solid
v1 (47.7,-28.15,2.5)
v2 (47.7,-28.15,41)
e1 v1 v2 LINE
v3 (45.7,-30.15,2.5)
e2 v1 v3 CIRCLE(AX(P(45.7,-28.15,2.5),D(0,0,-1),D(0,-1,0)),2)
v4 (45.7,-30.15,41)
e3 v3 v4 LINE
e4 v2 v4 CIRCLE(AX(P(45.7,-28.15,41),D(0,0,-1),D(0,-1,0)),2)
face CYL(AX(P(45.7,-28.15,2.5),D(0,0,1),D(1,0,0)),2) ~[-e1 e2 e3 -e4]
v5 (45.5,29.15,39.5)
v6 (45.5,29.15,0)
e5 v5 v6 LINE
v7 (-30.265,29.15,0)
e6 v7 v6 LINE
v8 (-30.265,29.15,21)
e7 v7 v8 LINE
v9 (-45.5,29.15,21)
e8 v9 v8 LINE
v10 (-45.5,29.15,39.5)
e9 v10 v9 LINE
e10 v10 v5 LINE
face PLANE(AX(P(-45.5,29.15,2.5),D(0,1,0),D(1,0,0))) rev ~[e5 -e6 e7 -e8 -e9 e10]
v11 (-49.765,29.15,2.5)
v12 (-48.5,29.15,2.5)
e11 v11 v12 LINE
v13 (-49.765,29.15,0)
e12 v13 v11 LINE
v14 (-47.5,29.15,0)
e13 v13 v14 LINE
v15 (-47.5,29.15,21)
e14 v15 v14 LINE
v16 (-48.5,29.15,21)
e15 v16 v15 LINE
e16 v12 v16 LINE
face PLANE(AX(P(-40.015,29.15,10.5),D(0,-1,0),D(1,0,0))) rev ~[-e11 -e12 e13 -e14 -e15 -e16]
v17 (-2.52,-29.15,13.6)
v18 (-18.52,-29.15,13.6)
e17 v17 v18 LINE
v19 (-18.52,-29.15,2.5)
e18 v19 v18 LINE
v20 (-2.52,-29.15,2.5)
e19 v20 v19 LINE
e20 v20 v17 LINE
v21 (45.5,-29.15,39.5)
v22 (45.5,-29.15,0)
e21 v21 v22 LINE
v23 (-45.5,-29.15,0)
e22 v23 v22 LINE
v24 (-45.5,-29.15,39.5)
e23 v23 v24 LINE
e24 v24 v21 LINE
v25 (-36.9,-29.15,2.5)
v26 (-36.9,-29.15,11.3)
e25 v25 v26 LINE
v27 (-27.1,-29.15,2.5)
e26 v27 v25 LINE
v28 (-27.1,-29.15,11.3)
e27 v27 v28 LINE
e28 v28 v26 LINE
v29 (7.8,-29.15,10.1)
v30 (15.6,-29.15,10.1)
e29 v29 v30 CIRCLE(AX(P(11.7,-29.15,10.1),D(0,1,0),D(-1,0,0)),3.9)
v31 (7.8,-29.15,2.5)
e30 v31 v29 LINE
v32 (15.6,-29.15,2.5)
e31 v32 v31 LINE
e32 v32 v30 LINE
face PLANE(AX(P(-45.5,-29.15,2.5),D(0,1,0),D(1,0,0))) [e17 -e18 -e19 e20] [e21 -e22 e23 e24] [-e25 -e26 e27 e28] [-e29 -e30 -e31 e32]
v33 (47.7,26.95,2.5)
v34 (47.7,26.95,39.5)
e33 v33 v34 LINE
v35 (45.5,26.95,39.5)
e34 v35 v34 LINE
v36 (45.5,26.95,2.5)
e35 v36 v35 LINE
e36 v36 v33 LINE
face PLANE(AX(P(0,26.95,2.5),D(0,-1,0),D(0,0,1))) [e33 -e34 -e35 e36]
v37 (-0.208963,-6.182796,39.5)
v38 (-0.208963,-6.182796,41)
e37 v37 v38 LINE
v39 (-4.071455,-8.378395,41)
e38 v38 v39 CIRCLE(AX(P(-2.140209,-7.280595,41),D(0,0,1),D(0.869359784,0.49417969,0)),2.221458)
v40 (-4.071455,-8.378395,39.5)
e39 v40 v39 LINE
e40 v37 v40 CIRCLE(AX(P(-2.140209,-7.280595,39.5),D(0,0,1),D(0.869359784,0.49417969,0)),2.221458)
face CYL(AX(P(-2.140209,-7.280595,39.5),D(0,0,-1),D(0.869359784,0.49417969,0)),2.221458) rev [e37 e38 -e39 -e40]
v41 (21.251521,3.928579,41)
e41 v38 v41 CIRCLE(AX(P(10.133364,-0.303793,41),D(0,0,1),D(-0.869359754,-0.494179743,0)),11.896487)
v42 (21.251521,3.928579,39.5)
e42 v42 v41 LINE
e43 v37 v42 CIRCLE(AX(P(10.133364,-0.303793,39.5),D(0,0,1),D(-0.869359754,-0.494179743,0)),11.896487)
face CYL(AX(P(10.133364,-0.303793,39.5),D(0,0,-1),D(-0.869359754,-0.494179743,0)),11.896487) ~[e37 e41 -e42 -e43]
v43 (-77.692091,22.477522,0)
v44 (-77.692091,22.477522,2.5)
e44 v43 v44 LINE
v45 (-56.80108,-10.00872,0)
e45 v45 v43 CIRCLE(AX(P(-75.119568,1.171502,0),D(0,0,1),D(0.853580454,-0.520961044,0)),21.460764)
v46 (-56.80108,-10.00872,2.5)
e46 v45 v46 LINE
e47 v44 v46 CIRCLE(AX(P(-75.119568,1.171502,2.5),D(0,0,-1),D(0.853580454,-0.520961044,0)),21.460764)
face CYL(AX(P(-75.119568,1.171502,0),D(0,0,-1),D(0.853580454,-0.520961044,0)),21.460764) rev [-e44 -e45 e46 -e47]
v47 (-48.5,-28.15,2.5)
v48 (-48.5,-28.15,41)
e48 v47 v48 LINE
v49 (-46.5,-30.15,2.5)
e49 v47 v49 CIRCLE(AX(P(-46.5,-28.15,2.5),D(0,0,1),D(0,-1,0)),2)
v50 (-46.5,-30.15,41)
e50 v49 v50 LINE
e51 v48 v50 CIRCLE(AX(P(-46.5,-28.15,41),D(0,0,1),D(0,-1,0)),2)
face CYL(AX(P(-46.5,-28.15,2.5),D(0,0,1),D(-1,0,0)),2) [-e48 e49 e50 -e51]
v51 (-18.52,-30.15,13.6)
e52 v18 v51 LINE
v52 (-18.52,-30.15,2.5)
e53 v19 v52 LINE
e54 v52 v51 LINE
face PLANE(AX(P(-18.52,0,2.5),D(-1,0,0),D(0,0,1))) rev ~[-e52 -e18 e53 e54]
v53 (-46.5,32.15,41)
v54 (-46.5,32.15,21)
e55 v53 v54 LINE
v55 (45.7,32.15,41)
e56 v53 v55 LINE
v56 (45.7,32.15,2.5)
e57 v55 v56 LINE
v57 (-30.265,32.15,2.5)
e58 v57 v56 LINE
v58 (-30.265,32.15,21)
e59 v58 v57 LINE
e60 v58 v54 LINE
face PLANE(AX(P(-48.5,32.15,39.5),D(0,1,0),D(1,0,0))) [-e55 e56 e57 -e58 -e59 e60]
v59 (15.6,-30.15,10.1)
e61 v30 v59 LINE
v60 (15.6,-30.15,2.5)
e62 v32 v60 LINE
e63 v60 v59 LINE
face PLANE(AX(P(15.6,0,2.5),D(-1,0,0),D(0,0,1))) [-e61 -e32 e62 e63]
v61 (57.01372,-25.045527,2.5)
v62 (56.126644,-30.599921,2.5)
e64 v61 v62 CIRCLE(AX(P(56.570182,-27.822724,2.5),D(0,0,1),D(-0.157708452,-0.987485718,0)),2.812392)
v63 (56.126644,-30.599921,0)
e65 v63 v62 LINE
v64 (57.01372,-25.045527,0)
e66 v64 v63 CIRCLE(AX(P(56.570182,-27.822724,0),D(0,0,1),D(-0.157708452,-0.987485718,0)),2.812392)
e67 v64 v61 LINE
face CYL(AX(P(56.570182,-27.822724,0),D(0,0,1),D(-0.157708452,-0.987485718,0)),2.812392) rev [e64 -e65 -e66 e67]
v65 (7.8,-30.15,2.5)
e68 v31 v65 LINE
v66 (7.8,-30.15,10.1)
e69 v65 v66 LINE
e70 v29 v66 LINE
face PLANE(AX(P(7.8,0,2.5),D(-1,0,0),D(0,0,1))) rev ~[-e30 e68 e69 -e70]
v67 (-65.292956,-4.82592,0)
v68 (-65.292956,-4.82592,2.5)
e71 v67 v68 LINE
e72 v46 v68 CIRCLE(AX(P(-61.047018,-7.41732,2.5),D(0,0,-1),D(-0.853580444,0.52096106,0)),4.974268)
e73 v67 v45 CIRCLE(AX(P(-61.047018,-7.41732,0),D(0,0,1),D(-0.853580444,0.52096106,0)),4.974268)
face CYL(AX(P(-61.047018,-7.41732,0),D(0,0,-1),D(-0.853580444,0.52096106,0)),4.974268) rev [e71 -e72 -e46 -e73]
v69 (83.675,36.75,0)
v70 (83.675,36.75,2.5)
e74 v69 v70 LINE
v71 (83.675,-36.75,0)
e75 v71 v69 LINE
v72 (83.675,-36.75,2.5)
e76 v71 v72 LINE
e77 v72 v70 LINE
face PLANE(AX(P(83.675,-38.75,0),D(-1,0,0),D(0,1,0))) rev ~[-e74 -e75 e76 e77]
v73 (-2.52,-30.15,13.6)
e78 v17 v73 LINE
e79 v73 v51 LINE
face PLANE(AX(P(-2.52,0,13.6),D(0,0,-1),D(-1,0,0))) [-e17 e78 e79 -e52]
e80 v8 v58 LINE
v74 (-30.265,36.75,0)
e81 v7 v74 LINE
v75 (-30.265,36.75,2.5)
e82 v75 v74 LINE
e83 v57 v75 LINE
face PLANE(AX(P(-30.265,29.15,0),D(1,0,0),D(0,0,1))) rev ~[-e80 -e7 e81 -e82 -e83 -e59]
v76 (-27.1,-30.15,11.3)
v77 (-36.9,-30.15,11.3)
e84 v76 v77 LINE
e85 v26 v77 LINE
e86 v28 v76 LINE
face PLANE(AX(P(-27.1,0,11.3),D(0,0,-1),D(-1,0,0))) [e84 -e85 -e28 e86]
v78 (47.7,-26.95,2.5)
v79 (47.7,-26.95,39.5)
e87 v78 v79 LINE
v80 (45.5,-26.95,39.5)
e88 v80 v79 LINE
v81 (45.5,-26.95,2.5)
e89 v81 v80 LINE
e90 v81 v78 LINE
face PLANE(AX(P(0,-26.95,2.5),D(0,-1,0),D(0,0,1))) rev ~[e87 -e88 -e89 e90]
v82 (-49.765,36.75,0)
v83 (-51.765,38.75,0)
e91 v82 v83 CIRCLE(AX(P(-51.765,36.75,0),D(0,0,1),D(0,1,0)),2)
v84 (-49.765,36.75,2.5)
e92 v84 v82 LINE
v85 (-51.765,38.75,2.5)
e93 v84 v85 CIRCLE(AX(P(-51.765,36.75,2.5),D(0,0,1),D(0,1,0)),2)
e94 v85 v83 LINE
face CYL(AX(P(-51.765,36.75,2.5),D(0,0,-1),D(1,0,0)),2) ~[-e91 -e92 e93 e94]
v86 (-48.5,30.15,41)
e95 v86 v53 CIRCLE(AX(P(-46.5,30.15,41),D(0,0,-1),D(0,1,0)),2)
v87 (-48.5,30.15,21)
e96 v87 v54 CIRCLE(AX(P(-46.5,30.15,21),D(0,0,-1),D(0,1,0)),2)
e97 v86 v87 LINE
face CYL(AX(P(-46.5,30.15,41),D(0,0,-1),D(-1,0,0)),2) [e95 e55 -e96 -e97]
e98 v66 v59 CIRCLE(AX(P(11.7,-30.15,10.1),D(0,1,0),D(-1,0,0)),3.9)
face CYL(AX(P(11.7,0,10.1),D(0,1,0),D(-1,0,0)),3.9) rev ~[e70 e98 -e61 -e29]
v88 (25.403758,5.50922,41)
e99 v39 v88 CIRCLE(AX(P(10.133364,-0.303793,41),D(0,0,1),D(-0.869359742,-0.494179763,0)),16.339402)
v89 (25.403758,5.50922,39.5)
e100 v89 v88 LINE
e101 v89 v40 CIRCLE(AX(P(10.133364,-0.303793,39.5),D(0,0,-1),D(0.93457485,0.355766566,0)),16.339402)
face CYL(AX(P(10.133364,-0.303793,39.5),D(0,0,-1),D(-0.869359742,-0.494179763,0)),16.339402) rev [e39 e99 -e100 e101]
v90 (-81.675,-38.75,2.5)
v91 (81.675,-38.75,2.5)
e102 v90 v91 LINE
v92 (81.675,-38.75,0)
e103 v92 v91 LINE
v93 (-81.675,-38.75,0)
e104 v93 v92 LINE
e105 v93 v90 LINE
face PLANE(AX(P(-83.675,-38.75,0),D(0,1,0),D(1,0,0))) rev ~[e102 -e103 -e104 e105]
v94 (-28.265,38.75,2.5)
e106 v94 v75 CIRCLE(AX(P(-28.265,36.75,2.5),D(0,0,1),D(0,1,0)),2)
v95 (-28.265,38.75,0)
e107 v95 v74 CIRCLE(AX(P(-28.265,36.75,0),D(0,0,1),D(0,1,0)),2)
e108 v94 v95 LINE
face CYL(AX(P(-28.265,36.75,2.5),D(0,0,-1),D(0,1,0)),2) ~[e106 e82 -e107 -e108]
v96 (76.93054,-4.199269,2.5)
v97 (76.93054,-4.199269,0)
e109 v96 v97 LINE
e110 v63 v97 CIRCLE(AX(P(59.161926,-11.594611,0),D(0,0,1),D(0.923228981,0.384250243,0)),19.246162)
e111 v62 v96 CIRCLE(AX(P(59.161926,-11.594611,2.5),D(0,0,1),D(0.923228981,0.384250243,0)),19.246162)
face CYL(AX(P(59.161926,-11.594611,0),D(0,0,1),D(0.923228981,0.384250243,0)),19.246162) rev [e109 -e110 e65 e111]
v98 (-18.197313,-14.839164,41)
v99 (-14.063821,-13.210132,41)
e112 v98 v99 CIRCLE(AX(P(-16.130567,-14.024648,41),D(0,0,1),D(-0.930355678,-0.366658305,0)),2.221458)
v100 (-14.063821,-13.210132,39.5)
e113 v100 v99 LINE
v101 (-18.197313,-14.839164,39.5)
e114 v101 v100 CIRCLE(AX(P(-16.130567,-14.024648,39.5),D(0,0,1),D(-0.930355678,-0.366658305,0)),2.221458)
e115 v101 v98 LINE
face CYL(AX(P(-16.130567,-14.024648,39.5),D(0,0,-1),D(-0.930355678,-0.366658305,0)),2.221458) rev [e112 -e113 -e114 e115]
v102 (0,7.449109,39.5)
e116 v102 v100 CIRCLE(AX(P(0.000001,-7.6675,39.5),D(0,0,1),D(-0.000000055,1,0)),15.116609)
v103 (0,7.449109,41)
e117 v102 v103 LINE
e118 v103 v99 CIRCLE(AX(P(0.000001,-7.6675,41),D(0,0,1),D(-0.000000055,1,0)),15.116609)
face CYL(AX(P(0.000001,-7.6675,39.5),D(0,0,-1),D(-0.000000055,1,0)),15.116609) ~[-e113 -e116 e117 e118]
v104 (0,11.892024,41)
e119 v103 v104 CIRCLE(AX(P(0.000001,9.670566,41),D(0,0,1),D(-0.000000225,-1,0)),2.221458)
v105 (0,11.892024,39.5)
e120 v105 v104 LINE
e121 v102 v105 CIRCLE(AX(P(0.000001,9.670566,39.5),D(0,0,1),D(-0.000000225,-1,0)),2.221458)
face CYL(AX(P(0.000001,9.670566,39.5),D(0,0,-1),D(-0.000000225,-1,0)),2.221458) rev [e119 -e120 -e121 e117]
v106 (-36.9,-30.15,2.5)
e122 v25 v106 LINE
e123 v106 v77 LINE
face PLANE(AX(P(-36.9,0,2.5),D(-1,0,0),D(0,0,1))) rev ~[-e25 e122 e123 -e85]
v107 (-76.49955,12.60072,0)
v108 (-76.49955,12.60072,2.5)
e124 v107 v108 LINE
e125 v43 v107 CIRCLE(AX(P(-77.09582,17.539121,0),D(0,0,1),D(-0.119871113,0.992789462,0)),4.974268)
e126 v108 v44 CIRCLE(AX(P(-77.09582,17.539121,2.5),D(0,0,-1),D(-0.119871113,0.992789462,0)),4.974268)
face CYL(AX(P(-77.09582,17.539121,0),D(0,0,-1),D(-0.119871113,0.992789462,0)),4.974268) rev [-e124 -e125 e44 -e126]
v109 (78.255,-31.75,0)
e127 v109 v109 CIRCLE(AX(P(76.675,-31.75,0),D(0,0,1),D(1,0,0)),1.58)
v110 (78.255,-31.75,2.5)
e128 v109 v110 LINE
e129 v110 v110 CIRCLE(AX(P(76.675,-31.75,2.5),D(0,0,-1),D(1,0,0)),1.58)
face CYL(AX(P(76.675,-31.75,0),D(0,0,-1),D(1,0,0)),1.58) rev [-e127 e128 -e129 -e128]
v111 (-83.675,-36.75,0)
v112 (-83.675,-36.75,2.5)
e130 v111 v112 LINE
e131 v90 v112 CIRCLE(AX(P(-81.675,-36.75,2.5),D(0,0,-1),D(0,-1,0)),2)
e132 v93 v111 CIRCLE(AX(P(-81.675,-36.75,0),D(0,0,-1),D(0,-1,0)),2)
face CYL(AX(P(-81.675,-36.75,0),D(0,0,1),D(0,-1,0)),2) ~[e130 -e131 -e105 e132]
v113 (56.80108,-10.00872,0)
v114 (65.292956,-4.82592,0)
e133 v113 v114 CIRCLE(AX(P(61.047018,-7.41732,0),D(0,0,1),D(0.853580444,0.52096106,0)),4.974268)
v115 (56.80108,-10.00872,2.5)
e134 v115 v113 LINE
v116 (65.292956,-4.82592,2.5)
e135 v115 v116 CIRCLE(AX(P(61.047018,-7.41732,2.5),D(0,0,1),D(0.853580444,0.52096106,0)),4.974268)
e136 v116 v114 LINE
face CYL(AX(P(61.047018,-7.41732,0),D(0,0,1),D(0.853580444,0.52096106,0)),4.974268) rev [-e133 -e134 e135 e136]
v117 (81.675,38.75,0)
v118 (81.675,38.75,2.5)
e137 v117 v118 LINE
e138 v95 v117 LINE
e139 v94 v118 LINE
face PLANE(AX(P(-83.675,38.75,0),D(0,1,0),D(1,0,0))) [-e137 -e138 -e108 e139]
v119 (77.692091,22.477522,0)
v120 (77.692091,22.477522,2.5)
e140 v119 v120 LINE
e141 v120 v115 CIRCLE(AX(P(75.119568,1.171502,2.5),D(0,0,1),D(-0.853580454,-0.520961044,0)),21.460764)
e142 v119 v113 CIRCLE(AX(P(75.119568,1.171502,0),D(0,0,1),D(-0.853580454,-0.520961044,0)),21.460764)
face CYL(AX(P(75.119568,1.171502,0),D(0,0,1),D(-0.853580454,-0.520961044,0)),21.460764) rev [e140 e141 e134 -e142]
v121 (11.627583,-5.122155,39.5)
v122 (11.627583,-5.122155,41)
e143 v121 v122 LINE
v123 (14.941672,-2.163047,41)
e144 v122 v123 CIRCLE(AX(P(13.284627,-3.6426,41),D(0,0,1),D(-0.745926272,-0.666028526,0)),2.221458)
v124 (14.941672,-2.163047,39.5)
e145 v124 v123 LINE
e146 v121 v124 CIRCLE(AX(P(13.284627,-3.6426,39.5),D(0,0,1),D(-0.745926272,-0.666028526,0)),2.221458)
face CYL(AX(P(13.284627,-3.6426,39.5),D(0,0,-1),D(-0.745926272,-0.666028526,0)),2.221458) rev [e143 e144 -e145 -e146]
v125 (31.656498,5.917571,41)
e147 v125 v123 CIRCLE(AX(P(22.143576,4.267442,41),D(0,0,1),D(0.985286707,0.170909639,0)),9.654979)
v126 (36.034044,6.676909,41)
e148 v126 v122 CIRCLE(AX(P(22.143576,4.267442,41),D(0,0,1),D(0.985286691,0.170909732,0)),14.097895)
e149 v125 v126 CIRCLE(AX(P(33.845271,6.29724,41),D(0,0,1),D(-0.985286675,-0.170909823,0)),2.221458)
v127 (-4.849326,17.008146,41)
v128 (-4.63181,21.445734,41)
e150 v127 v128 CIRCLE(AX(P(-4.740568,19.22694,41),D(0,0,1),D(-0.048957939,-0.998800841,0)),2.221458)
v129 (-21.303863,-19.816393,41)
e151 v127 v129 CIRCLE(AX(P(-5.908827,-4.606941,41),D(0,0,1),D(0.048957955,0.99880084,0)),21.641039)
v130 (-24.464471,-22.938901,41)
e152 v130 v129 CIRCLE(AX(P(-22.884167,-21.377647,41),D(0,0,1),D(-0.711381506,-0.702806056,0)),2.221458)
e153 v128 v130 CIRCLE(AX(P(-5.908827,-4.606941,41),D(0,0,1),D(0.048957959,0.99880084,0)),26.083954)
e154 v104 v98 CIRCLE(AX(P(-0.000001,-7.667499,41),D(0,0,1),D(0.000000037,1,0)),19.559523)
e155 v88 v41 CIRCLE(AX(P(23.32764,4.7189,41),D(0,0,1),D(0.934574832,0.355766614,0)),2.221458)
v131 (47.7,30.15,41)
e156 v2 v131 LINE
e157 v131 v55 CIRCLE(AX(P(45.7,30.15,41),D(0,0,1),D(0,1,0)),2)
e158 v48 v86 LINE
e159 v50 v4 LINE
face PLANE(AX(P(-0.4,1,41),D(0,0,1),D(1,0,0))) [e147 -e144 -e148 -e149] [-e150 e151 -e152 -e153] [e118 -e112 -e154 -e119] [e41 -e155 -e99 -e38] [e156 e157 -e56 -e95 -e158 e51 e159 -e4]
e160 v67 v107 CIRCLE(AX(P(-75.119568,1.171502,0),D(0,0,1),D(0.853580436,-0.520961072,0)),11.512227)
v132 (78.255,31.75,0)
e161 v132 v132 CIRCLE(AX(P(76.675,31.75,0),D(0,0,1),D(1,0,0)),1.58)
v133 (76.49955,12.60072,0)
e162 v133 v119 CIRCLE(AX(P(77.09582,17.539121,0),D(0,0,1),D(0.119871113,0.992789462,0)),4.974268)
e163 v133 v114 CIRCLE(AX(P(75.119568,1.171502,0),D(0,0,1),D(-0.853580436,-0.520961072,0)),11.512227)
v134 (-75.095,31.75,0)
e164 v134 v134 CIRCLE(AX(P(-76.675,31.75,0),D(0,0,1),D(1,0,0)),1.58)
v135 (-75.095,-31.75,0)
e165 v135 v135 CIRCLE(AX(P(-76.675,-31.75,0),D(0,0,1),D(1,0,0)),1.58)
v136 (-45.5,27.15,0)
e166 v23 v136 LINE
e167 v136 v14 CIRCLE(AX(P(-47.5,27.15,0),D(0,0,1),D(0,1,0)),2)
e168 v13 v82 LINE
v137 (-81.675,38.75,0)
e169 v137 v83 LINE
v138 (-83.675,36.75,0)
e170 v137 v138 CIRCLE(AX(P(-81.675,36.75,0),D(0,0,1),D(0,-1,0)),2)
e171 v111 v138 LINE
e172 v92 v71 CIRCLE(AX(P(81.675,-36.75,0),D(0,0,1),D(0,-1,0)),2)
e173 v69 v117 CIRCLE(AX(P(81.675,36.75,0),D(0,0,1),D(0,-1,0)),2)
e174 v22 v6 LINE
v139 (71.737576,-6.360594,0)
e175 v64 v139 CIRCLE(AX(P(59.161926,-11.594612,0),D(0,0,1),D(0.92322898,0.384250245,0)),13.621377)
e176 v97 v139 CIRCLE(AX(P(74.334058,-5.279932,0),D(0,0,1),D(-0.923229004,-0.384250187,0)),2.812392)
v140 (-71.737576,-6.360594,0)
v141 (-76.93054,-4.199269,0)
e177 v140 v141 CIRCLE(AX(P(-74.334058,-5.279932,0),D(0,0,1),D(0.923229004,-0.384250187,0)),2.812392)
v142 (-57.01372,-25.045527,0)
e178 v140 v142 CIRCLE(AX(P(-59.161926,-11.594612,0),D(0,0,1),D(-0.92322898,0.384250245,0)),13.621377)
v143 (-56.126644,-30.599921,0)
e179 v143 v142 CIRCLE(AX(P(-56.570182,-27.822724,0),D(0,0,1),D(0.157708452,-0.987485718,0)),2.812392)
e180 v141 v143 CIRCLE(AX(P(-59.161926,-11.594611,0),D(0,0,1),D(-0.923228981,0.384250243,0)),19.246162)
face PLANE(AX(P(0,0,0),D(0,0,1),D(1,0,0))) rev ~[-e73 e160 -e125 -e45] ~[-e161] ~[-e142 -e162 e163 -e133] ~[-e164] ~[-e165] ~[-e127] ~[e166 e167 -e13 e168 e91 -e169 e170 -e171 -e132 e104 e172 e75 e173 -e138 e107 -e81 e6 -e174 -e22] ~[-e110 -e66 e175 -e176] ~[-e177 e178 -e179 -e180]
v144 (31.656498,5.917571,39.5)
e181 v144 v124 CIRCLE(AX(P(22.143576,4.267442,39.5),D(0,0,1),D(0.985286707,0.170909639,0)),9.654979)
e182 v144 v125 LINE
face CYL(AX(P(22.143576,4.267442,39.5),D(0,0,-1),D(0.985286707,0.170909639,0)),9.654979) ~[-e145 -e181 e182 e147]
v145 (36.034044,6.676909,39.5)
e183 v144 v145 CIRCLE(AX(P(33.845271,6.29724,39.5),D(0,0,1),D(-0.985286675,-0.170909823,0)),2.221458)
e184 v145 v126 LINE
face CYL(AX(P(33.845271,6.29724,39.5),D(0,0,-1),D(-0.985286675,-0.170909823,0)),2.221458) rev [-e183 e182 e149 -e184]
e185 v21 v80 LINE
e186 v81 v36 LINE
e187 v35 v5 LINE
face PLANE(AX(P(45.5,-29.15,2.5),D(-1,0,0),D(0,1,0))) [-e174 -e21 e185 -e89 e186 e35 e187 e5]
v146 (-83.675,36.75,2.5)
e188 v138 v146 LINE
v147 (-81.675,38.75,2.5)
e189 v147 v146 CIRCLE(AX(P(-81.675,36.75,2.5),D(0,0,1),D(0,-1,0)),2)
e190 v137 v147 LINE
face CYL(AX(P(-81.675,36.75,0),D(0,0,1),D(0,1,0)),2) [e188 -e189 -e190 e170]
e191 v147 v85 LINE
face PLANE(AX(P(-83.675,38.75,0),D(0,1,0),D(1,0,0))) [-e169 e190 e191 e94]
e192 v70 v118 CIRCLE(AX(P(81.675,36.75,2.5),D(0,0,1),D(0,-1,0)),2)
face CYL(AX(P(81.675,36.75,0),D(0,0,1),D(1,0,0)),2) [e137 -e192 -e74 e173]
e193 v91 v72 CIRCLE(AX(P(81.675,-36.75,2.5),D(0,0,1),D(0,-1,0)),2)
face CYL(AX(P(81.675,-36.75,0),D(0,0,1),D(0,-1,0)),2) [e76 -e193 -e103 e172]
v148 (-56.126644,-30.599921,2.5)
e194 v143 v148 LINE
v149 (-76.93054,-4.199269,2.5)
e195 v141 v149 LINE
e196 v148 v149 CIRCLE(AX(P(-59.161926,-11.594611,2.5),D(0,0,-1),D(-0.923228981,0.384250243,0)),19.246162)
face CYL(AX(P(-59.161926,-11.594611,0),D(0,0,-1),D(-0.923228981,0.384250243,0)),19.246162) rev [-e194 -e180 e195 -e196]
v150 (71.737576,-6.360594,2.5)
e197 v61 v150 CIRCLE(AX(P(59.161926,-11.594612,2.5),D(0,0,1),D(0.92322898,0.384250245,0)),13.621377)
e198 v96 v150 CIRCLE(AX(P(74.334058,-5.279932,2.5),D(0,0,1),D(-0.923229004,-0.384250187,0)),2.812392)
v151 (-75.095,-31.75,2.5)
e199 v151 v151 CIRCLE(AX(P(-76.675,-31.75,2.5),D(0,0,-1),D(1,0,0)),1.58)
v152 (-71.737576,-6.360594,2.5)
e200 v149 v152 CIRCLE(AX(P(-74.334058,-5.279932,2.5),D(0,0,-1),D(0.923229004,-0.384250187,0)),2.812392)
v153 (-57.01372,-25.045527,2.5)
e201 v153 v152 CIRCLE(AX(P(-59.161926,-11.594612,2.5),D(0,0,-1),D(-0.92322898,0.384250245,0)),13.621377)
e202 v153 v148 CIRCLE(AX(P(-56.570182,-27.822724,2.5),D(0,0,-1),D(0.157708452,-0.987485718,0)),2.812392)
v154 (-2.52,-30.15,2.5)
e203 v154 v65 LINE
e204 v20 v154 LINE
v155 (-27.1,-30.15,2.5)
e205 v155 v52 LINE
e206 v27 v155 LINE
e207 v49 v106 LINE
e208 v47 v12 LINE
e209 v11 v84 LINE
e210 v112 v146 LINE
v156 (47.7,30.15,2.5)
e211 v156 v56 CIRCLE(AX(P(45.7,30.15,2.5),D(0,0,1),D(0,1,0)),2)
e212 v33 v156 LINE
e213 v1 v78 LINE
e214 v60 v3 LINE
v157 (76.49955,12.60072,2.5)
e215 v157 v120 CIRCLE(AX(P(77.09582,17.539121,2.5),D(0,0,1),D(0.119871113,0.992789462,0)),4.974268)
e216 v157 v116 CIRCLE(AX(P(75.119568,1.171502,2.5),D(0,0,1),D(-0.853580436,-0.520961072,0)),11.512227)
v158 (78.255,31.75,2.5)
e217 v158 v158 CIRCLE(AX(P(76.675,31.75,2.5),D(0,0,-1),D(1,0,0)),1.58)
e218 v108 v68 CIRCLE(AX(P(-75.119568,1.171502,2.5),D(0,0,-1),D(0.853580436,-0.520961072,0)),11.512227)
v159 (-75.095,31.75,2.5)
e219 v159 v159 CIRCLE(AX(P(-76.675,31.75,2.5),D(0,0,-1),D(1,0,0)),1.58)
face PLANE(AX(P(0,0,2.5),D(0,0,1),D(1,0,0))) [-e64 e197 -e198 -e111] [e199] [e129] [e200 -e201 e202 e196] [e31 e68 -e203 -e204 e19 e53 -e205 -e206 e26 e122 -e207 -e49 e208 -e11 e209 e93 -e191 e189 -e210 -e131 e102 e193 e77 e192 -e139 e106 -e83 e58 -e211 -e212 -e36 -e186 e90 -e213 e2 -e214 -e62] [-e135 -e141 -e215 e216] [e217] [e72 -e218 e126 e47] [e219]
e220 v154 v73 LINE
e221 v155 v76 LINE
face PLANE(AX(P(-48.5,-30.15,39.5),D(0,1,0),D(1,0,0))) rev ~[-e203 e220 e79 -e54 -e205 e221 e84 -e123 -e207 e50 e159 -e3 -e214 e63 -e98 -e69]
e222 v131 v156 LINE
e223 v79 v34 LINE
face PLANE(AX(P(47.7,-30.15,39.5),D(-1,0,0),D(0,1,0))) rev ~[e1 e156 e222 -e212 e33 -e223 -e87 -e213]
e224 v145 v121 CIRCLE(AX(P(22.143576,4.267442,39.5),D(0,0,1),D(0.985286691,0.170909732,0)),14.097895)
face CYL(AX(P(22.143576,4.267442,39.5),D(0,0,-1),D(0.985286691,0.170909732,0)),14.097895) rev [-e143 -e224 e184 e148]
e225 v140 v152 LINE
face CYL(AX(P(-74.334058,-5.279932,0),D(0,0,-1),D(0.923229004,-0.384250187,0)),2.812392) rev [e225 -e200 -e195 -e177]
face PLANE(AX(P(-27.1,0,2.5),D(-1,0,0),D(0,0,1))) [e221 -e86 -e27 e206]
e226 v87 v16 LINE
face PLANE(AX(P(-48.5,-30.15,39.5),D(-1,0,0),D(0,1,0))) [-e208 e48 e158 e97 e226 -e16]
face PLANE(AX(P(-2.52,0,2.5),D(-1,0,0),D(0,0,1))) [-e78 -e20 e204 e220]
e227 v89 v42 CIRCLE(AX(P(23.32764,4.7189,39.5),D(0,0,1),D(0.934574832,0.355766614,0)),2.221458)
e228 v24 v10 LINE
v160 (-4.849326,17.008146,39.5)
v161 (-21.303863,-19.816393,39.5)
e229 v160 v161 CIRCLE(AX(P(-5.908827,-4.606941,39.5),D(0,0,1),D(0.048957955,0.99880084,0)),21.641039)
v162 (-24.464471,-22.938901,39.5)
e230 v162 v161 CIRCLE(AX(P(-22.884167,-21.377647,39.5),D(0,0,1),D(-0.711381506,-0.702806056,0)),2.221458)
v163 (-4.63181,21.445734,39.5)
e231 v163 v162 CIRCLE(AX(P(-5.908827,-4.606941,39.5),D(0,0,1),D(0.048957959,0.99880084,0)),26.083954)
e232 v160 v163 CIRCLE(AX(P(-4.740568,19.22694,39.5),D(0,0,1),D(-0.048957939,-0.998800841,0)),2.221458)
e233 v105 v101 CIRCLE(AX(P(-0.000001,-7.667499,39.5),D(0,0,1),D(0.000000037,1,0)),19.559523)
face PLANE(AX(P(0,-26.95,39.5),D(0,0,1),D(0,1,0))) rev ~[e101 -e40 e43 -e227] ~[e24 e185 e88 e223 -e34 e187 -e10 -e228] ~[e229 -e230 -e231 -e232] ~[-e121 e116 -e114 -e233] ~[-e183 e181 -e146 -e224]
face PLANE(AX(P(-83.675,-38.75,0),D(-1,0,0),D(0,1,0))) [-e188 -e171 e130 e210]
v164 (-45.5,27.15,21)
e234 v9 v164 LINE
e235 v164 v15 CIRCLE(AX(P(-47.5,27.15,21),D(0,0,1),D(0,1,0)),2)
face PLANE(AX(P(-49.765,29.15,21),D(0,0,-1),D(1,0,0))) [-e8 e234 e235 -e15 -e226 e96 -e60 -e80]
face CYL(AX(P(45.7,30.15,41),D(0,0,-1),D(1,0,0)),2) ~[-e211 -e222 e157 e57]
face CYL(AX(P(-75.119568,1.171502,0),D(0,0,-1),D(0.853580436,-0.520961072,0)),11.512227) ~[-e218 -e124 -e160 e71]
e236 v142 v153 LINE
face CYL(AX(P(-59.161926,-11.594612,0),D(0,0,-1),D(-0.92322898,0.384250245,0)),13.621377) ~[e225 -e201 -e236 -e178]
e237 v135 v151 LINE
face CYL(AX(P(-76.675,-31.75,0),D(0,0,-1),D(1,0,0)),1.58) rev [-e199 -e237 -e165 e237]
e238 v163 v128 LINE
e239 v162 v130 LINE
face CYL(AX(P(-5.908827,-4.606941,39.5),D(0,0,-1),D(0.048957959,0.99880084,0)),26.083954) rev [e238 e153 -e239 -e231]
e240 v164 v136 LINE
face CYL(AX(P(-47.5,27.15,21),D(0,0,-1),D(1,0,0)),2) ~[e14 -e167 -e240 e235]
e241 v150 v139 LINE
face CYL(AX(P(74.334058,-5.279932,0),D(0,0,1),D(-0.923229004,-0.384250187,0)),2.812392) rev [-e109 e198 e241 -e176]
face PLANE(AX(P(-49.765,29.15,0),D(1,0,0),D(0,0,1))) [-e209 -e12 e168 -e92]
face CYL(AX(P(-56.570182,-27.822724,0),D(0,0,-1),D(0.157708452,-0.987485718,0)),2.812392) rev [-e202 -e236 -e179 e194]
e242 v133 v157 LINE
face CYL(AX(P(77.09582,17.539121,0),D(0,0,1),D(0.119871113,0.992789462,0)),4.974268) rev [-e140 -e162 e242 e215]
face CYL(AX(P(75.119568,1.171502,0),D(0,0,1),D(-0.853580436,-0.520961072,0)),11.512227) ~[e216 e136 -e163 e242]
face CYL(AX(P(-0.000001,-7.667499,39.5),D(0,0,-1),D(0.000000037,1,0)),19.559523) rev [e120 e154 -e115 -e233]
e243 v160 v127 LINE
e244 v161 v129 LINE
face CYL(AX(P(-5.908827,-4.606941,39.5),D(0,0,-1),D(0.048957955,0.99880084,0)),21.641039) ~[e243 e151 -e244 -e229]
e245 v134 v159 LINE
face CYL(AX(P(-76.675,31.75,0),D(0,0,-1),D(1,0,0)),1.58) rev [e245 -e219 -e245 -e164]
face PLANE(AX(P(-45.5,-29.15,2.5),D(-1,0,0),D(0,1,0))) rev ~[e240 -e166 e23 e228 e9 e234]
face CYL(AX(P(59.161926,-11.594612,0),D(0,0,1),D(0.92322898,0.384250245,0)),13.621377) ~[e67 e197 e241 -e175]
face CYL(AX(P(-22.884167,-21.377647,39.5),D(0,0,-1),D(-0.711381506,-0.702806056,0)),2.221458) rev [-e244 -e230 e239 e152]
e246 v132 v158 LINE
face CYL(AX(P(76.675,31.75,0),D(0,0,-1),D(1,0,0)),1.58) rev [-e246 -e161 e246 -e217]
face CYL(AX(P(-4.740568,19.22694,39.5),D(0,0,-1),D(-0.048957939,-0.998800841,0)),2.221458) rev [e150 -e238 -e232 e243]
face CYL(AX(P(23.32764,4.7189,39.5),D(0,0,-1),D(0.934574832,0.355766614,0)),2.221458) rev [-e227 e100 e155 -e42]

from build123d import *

# Parameters (mm, degrees)
SKETCH001_W          = 167.35
SKETCH001_H          = 77.5
SKETCH001_W_2        = 91
SKETCH001_H_2        = 58.3
PAD_DEPTH            = 2.5
SKETCH_R             = 1.58
POCKET_DEPTH         = 0.001
POCKET_DEPTH_BACK    = 2.501
SKETCH002_W          = 96.2
SKETCH002_H          = 62.3
SKETCH002_W_2        = 91
SKETCH002_H_2        = 58.3
PAD001_DEPTH         = 37
SKETCH003_W          = 96.2
SKETCH003_H          = 62.3
PAD002_DEPTH         = 1.5
SKETCH004_W          = 19.5
SKETCH004_H          = 21
POCKET001_DEPTH      = 9.601
SKETCH005_W          = 53.9
SKETCH005_H          = 37
POCKET002_DEPTH      = 48.5
SKETCH007_W          = 16
SKETCH007_H          = 11.1
SKETCH007_W_2        = 9.8
SKETCH007_H_2        = 8.8
POCKET003_DEPTH      = 38.751
FILLET_R             = 2
POCKET004_DEPTH      = 377.854265
POCKET004_DEPTH_BACK = 418.854265


with BuildPart() as part:
    # Sketch001 → Pad (new body)
    with BuildSketch(Plane.XY):
        Rectangle(SKETCH001_W, SKETCH001_H)
        Rectangle(SKETCH001_W_2, SKETCH001_H_2, mode=Mode.SUBTRACT)
    extrude(amount=PAD_DEPTH)

    # Sketch → Pocket (cut, two sides)
    with BuildSketch(Plane.XY) as pocket_sk:
        with Locations((-76.675, -31.75)):
            Circle(SKETCH_R)
        with Locations((-76.675, 31.75)):
            Circle(SKETCH_R)
        with Locations((76.675, 31.75)):
            Circle(SKETCH_R)
        with Locations((76.675, -31.75)):
            Circle(SKETCH_R)
    extrude(amount=-POCKET_DEPTH, mode=Mode.SUBTRACT)
    extrude(pocket_sk.sketch, amount=POCKET_DEPTH_BACK, mode=Mode.SUBTRACT)

    # Sketch002 → Pad001 (join)
    with BuildSketch(Plane.XY.offset(2.5)):
        with Locations((-0.4, 1)):
            Rectangle(SKETCH002_W, SKETCH002_H)
        Rectangle(SKETCH002_W_2, SKETCH002_H_2, mode=Mode.SUBTRACT)
    extrude(amount=PAD001_DEPTH)

    # Sketch003 → Pad002 (join)
    with BuildSketch(Plane.XY.offset(39.5)):
        with Locations((-0.4, 1)):
            Rectangle(SKETCH003_W, SKETCH003_H)
        with BuildLine():
            ThreePointArc((0, 11.892024), (-16.168632, 3.339331), (-18.197313, -14.839164))
            ThreePointArc((-18.197313, -14.839164), (-15.316051, -16.091394), (-14.063821, -13.210132))
            ThreePointArc((0, 7.449109), (-12.495952, 0.839146), (-14.063821, -13.210132))
            ThreePointArc((0, 7.449109), (2.221458, 9.670566), (0, 11.892024))
        make_face(mode=Mode.SUBTRACT)
        with BuildLine():
            ThreePointArc((-0.208963, -6.182796), (15.203911, -11.065575), (21.251521, 3.928579))
            ThreePointArc((25.403758, 5.50922), (22.537319, 6.795018), (21.251521, 3.928579))
            ThreePointArc((-4.071455, -8.378395), (17.097581, -15.084718), (25.403758, 5.50922))
            ThreePointArc((-0.208963, -6.182796), (-3.238008, -5.349349), (-4.071455, -8.378395))
        make_face(mode=Mode.SUBTRACT)
        with BuildLine():
            ThreePointArc((31.656498, 5.917571), (17.941279, 12.959928), (14.941672, -2.163047))
            ThreePointArc((11.627583, -5.122155), (14.764181, -5.299645), (14.941672, -2.163047))
            ThreePointArc((36.034044, 6.676909), (16.007515, 16.959935), (11.627583, -5.122155))
            ThreePointArc((31.656498, 5.917571), (34.22494, 4.108467), (36.034044, 6.676909))
        make_face(mode=Mode.SUBTRACT)
        with BuildLine():
            ThreePointArc((-4.63181, 21.445734), (-29.723459, 6.034298), (-24.464471, -22.938901))
            ThreePointArc((-24.464471, -22.938901), (-21.322913, -22.957951), (-21.303863, -19.816393))
            ThreePointArc((-4.849326, 17.008146), (-25.66708, 4.221761), (-21.303863, -19.816393))
            ThreePointArc((-4.849326, 17.008146), (-2.521774, 19.118182), (-4.63181, 21.445734))
        make_face(mode=Mode.SUBTRACT)
    extrude(amount=PAD002_DEPTH)

    # Sketch004 → Pocket001 (cut, through all)
    with BuildSketch(Plane.XZ.offset(-29.15)):
        with Locations((-40.015, 10.5)):
            Rectangle(SKETCH004_W, SKETCH004_H)
    extrude(amount=-POCKET001_DEPTH, mode=Mode.SUBTRACT)

    # Sketch005 → Pocket002 (cut)
    with BuildSketch(Plane.YZ):
        with Locations((0, 21)):
            Rectangle(SKETCH005_W, SKETCH005_H)
    extrude(amount=POCKET002_DEPTH, mode=Mode.SUBTRACT)

    # Sketch007 → Pocket003 (cut, through all)
    with BuildSketch(Plane(origin=(0, 0, 0), x_dir=(-1, 0, 0), z_dir=(0, 1, 0))):
        with BuildLine():
            Line((-15.6, 2.5), (-15.6, 10.1))
            ThreePointArc((-7.8, 10.1), (-11.7, 14), (-15.6, 10.1))
            Line((-7.8, 2.5), (-7.8, 10.1))
            Line((-15.6, 2.5), (-7.8, 2.5))
        make_face()
        with Locations((10.52, 8.05)):
            Rectangle(SKETCH007_W, SKETCH007_H)
        with Locations((32, 6.9)):
            Rectangle(SKETCH007_W_2, SKETCH007_H_2)
    extrude(amount=-POCKET003_DEPTH, mode=Mode.SUBTRACT)

    # Fillet
    fillet_edges = [part.edges().sort_by_distance(p)[0] for p in [
        (47.7, -30.15, 21),
        (47.7, 32.15, 21),
        (-48.5, 32.15, 30.25),
        (-48.5, -30.15, 21),
        (-83.675, -38.75, 1.25),
        (-83.675, 38.75, 1.25),
        (83.675, 38.75, 1.25),
        (83.675, -38.75, 1.25),
        (-49.765, 38.75, 1.25),
        (-30.265, 38.75, 1.25),
        (-45.5, 29.15, 1.25),
    ]]
    fillet(fillet_edges, radius=FILLET_R)

    # Sketch008 → Pocket004 (cut, two sides)
    with BuildSketch(Plane.XY) as pocket004_sk:
        with BuildLine():
            ThreePointArc((-56.80108, -10.00872), (-57.069005, 12.779324), (-77.692091, 22.477522))
            ThreePointArc((-77.692091, 22.477522), (-82.034221, 16.942851), (-76.49955, 12.60072))
            ThreePointArc((-65.292956, -4.82592), (-65.436679, 7.398302), (-76.49955, 12.60072))
            ThreePointArc((-65.292956, -4.82592), (-63.638418, -11.663258), (-56.80108, -10.00872))
        make_face()
        with BuildLine():
            ThreePointArc((-76.93054, -4.199269), (-74.278684, -23.506721), (-56.126644, -30.599921))
            ThreePointArc((-56.126644, -30.599921), (-53.792985, -27.379186), (-57.01372, -25.045527))
            ThreePointArc((-71.737576, -6.360594), (-69.860738, -20.025349), (-57.01372, -25.045527))
            ThreePointArc((-71.737576, -6.360594), (-73.253395, -2.68345), (-76.93054, -4.199269))
        make_face()
    pocket004 = extrude(amount=-POCKET004_DEPTH, mode=Mode.SUBTRACT) + extrude(pocket004_sk.sketch, amount=POCKET004_DEPTH_BACK, mode=Mode.SUBTRACT)

    # Mirrored: Pocket004 across Sketch008 V_Axis
    add(pocket004.mirror(Plane(origin=(0, 0, 0), x_dir=(0, 0, 1), z_dir=(1, 0, 0))), mode=Mode.SUBTRACT)


solid = part.part
